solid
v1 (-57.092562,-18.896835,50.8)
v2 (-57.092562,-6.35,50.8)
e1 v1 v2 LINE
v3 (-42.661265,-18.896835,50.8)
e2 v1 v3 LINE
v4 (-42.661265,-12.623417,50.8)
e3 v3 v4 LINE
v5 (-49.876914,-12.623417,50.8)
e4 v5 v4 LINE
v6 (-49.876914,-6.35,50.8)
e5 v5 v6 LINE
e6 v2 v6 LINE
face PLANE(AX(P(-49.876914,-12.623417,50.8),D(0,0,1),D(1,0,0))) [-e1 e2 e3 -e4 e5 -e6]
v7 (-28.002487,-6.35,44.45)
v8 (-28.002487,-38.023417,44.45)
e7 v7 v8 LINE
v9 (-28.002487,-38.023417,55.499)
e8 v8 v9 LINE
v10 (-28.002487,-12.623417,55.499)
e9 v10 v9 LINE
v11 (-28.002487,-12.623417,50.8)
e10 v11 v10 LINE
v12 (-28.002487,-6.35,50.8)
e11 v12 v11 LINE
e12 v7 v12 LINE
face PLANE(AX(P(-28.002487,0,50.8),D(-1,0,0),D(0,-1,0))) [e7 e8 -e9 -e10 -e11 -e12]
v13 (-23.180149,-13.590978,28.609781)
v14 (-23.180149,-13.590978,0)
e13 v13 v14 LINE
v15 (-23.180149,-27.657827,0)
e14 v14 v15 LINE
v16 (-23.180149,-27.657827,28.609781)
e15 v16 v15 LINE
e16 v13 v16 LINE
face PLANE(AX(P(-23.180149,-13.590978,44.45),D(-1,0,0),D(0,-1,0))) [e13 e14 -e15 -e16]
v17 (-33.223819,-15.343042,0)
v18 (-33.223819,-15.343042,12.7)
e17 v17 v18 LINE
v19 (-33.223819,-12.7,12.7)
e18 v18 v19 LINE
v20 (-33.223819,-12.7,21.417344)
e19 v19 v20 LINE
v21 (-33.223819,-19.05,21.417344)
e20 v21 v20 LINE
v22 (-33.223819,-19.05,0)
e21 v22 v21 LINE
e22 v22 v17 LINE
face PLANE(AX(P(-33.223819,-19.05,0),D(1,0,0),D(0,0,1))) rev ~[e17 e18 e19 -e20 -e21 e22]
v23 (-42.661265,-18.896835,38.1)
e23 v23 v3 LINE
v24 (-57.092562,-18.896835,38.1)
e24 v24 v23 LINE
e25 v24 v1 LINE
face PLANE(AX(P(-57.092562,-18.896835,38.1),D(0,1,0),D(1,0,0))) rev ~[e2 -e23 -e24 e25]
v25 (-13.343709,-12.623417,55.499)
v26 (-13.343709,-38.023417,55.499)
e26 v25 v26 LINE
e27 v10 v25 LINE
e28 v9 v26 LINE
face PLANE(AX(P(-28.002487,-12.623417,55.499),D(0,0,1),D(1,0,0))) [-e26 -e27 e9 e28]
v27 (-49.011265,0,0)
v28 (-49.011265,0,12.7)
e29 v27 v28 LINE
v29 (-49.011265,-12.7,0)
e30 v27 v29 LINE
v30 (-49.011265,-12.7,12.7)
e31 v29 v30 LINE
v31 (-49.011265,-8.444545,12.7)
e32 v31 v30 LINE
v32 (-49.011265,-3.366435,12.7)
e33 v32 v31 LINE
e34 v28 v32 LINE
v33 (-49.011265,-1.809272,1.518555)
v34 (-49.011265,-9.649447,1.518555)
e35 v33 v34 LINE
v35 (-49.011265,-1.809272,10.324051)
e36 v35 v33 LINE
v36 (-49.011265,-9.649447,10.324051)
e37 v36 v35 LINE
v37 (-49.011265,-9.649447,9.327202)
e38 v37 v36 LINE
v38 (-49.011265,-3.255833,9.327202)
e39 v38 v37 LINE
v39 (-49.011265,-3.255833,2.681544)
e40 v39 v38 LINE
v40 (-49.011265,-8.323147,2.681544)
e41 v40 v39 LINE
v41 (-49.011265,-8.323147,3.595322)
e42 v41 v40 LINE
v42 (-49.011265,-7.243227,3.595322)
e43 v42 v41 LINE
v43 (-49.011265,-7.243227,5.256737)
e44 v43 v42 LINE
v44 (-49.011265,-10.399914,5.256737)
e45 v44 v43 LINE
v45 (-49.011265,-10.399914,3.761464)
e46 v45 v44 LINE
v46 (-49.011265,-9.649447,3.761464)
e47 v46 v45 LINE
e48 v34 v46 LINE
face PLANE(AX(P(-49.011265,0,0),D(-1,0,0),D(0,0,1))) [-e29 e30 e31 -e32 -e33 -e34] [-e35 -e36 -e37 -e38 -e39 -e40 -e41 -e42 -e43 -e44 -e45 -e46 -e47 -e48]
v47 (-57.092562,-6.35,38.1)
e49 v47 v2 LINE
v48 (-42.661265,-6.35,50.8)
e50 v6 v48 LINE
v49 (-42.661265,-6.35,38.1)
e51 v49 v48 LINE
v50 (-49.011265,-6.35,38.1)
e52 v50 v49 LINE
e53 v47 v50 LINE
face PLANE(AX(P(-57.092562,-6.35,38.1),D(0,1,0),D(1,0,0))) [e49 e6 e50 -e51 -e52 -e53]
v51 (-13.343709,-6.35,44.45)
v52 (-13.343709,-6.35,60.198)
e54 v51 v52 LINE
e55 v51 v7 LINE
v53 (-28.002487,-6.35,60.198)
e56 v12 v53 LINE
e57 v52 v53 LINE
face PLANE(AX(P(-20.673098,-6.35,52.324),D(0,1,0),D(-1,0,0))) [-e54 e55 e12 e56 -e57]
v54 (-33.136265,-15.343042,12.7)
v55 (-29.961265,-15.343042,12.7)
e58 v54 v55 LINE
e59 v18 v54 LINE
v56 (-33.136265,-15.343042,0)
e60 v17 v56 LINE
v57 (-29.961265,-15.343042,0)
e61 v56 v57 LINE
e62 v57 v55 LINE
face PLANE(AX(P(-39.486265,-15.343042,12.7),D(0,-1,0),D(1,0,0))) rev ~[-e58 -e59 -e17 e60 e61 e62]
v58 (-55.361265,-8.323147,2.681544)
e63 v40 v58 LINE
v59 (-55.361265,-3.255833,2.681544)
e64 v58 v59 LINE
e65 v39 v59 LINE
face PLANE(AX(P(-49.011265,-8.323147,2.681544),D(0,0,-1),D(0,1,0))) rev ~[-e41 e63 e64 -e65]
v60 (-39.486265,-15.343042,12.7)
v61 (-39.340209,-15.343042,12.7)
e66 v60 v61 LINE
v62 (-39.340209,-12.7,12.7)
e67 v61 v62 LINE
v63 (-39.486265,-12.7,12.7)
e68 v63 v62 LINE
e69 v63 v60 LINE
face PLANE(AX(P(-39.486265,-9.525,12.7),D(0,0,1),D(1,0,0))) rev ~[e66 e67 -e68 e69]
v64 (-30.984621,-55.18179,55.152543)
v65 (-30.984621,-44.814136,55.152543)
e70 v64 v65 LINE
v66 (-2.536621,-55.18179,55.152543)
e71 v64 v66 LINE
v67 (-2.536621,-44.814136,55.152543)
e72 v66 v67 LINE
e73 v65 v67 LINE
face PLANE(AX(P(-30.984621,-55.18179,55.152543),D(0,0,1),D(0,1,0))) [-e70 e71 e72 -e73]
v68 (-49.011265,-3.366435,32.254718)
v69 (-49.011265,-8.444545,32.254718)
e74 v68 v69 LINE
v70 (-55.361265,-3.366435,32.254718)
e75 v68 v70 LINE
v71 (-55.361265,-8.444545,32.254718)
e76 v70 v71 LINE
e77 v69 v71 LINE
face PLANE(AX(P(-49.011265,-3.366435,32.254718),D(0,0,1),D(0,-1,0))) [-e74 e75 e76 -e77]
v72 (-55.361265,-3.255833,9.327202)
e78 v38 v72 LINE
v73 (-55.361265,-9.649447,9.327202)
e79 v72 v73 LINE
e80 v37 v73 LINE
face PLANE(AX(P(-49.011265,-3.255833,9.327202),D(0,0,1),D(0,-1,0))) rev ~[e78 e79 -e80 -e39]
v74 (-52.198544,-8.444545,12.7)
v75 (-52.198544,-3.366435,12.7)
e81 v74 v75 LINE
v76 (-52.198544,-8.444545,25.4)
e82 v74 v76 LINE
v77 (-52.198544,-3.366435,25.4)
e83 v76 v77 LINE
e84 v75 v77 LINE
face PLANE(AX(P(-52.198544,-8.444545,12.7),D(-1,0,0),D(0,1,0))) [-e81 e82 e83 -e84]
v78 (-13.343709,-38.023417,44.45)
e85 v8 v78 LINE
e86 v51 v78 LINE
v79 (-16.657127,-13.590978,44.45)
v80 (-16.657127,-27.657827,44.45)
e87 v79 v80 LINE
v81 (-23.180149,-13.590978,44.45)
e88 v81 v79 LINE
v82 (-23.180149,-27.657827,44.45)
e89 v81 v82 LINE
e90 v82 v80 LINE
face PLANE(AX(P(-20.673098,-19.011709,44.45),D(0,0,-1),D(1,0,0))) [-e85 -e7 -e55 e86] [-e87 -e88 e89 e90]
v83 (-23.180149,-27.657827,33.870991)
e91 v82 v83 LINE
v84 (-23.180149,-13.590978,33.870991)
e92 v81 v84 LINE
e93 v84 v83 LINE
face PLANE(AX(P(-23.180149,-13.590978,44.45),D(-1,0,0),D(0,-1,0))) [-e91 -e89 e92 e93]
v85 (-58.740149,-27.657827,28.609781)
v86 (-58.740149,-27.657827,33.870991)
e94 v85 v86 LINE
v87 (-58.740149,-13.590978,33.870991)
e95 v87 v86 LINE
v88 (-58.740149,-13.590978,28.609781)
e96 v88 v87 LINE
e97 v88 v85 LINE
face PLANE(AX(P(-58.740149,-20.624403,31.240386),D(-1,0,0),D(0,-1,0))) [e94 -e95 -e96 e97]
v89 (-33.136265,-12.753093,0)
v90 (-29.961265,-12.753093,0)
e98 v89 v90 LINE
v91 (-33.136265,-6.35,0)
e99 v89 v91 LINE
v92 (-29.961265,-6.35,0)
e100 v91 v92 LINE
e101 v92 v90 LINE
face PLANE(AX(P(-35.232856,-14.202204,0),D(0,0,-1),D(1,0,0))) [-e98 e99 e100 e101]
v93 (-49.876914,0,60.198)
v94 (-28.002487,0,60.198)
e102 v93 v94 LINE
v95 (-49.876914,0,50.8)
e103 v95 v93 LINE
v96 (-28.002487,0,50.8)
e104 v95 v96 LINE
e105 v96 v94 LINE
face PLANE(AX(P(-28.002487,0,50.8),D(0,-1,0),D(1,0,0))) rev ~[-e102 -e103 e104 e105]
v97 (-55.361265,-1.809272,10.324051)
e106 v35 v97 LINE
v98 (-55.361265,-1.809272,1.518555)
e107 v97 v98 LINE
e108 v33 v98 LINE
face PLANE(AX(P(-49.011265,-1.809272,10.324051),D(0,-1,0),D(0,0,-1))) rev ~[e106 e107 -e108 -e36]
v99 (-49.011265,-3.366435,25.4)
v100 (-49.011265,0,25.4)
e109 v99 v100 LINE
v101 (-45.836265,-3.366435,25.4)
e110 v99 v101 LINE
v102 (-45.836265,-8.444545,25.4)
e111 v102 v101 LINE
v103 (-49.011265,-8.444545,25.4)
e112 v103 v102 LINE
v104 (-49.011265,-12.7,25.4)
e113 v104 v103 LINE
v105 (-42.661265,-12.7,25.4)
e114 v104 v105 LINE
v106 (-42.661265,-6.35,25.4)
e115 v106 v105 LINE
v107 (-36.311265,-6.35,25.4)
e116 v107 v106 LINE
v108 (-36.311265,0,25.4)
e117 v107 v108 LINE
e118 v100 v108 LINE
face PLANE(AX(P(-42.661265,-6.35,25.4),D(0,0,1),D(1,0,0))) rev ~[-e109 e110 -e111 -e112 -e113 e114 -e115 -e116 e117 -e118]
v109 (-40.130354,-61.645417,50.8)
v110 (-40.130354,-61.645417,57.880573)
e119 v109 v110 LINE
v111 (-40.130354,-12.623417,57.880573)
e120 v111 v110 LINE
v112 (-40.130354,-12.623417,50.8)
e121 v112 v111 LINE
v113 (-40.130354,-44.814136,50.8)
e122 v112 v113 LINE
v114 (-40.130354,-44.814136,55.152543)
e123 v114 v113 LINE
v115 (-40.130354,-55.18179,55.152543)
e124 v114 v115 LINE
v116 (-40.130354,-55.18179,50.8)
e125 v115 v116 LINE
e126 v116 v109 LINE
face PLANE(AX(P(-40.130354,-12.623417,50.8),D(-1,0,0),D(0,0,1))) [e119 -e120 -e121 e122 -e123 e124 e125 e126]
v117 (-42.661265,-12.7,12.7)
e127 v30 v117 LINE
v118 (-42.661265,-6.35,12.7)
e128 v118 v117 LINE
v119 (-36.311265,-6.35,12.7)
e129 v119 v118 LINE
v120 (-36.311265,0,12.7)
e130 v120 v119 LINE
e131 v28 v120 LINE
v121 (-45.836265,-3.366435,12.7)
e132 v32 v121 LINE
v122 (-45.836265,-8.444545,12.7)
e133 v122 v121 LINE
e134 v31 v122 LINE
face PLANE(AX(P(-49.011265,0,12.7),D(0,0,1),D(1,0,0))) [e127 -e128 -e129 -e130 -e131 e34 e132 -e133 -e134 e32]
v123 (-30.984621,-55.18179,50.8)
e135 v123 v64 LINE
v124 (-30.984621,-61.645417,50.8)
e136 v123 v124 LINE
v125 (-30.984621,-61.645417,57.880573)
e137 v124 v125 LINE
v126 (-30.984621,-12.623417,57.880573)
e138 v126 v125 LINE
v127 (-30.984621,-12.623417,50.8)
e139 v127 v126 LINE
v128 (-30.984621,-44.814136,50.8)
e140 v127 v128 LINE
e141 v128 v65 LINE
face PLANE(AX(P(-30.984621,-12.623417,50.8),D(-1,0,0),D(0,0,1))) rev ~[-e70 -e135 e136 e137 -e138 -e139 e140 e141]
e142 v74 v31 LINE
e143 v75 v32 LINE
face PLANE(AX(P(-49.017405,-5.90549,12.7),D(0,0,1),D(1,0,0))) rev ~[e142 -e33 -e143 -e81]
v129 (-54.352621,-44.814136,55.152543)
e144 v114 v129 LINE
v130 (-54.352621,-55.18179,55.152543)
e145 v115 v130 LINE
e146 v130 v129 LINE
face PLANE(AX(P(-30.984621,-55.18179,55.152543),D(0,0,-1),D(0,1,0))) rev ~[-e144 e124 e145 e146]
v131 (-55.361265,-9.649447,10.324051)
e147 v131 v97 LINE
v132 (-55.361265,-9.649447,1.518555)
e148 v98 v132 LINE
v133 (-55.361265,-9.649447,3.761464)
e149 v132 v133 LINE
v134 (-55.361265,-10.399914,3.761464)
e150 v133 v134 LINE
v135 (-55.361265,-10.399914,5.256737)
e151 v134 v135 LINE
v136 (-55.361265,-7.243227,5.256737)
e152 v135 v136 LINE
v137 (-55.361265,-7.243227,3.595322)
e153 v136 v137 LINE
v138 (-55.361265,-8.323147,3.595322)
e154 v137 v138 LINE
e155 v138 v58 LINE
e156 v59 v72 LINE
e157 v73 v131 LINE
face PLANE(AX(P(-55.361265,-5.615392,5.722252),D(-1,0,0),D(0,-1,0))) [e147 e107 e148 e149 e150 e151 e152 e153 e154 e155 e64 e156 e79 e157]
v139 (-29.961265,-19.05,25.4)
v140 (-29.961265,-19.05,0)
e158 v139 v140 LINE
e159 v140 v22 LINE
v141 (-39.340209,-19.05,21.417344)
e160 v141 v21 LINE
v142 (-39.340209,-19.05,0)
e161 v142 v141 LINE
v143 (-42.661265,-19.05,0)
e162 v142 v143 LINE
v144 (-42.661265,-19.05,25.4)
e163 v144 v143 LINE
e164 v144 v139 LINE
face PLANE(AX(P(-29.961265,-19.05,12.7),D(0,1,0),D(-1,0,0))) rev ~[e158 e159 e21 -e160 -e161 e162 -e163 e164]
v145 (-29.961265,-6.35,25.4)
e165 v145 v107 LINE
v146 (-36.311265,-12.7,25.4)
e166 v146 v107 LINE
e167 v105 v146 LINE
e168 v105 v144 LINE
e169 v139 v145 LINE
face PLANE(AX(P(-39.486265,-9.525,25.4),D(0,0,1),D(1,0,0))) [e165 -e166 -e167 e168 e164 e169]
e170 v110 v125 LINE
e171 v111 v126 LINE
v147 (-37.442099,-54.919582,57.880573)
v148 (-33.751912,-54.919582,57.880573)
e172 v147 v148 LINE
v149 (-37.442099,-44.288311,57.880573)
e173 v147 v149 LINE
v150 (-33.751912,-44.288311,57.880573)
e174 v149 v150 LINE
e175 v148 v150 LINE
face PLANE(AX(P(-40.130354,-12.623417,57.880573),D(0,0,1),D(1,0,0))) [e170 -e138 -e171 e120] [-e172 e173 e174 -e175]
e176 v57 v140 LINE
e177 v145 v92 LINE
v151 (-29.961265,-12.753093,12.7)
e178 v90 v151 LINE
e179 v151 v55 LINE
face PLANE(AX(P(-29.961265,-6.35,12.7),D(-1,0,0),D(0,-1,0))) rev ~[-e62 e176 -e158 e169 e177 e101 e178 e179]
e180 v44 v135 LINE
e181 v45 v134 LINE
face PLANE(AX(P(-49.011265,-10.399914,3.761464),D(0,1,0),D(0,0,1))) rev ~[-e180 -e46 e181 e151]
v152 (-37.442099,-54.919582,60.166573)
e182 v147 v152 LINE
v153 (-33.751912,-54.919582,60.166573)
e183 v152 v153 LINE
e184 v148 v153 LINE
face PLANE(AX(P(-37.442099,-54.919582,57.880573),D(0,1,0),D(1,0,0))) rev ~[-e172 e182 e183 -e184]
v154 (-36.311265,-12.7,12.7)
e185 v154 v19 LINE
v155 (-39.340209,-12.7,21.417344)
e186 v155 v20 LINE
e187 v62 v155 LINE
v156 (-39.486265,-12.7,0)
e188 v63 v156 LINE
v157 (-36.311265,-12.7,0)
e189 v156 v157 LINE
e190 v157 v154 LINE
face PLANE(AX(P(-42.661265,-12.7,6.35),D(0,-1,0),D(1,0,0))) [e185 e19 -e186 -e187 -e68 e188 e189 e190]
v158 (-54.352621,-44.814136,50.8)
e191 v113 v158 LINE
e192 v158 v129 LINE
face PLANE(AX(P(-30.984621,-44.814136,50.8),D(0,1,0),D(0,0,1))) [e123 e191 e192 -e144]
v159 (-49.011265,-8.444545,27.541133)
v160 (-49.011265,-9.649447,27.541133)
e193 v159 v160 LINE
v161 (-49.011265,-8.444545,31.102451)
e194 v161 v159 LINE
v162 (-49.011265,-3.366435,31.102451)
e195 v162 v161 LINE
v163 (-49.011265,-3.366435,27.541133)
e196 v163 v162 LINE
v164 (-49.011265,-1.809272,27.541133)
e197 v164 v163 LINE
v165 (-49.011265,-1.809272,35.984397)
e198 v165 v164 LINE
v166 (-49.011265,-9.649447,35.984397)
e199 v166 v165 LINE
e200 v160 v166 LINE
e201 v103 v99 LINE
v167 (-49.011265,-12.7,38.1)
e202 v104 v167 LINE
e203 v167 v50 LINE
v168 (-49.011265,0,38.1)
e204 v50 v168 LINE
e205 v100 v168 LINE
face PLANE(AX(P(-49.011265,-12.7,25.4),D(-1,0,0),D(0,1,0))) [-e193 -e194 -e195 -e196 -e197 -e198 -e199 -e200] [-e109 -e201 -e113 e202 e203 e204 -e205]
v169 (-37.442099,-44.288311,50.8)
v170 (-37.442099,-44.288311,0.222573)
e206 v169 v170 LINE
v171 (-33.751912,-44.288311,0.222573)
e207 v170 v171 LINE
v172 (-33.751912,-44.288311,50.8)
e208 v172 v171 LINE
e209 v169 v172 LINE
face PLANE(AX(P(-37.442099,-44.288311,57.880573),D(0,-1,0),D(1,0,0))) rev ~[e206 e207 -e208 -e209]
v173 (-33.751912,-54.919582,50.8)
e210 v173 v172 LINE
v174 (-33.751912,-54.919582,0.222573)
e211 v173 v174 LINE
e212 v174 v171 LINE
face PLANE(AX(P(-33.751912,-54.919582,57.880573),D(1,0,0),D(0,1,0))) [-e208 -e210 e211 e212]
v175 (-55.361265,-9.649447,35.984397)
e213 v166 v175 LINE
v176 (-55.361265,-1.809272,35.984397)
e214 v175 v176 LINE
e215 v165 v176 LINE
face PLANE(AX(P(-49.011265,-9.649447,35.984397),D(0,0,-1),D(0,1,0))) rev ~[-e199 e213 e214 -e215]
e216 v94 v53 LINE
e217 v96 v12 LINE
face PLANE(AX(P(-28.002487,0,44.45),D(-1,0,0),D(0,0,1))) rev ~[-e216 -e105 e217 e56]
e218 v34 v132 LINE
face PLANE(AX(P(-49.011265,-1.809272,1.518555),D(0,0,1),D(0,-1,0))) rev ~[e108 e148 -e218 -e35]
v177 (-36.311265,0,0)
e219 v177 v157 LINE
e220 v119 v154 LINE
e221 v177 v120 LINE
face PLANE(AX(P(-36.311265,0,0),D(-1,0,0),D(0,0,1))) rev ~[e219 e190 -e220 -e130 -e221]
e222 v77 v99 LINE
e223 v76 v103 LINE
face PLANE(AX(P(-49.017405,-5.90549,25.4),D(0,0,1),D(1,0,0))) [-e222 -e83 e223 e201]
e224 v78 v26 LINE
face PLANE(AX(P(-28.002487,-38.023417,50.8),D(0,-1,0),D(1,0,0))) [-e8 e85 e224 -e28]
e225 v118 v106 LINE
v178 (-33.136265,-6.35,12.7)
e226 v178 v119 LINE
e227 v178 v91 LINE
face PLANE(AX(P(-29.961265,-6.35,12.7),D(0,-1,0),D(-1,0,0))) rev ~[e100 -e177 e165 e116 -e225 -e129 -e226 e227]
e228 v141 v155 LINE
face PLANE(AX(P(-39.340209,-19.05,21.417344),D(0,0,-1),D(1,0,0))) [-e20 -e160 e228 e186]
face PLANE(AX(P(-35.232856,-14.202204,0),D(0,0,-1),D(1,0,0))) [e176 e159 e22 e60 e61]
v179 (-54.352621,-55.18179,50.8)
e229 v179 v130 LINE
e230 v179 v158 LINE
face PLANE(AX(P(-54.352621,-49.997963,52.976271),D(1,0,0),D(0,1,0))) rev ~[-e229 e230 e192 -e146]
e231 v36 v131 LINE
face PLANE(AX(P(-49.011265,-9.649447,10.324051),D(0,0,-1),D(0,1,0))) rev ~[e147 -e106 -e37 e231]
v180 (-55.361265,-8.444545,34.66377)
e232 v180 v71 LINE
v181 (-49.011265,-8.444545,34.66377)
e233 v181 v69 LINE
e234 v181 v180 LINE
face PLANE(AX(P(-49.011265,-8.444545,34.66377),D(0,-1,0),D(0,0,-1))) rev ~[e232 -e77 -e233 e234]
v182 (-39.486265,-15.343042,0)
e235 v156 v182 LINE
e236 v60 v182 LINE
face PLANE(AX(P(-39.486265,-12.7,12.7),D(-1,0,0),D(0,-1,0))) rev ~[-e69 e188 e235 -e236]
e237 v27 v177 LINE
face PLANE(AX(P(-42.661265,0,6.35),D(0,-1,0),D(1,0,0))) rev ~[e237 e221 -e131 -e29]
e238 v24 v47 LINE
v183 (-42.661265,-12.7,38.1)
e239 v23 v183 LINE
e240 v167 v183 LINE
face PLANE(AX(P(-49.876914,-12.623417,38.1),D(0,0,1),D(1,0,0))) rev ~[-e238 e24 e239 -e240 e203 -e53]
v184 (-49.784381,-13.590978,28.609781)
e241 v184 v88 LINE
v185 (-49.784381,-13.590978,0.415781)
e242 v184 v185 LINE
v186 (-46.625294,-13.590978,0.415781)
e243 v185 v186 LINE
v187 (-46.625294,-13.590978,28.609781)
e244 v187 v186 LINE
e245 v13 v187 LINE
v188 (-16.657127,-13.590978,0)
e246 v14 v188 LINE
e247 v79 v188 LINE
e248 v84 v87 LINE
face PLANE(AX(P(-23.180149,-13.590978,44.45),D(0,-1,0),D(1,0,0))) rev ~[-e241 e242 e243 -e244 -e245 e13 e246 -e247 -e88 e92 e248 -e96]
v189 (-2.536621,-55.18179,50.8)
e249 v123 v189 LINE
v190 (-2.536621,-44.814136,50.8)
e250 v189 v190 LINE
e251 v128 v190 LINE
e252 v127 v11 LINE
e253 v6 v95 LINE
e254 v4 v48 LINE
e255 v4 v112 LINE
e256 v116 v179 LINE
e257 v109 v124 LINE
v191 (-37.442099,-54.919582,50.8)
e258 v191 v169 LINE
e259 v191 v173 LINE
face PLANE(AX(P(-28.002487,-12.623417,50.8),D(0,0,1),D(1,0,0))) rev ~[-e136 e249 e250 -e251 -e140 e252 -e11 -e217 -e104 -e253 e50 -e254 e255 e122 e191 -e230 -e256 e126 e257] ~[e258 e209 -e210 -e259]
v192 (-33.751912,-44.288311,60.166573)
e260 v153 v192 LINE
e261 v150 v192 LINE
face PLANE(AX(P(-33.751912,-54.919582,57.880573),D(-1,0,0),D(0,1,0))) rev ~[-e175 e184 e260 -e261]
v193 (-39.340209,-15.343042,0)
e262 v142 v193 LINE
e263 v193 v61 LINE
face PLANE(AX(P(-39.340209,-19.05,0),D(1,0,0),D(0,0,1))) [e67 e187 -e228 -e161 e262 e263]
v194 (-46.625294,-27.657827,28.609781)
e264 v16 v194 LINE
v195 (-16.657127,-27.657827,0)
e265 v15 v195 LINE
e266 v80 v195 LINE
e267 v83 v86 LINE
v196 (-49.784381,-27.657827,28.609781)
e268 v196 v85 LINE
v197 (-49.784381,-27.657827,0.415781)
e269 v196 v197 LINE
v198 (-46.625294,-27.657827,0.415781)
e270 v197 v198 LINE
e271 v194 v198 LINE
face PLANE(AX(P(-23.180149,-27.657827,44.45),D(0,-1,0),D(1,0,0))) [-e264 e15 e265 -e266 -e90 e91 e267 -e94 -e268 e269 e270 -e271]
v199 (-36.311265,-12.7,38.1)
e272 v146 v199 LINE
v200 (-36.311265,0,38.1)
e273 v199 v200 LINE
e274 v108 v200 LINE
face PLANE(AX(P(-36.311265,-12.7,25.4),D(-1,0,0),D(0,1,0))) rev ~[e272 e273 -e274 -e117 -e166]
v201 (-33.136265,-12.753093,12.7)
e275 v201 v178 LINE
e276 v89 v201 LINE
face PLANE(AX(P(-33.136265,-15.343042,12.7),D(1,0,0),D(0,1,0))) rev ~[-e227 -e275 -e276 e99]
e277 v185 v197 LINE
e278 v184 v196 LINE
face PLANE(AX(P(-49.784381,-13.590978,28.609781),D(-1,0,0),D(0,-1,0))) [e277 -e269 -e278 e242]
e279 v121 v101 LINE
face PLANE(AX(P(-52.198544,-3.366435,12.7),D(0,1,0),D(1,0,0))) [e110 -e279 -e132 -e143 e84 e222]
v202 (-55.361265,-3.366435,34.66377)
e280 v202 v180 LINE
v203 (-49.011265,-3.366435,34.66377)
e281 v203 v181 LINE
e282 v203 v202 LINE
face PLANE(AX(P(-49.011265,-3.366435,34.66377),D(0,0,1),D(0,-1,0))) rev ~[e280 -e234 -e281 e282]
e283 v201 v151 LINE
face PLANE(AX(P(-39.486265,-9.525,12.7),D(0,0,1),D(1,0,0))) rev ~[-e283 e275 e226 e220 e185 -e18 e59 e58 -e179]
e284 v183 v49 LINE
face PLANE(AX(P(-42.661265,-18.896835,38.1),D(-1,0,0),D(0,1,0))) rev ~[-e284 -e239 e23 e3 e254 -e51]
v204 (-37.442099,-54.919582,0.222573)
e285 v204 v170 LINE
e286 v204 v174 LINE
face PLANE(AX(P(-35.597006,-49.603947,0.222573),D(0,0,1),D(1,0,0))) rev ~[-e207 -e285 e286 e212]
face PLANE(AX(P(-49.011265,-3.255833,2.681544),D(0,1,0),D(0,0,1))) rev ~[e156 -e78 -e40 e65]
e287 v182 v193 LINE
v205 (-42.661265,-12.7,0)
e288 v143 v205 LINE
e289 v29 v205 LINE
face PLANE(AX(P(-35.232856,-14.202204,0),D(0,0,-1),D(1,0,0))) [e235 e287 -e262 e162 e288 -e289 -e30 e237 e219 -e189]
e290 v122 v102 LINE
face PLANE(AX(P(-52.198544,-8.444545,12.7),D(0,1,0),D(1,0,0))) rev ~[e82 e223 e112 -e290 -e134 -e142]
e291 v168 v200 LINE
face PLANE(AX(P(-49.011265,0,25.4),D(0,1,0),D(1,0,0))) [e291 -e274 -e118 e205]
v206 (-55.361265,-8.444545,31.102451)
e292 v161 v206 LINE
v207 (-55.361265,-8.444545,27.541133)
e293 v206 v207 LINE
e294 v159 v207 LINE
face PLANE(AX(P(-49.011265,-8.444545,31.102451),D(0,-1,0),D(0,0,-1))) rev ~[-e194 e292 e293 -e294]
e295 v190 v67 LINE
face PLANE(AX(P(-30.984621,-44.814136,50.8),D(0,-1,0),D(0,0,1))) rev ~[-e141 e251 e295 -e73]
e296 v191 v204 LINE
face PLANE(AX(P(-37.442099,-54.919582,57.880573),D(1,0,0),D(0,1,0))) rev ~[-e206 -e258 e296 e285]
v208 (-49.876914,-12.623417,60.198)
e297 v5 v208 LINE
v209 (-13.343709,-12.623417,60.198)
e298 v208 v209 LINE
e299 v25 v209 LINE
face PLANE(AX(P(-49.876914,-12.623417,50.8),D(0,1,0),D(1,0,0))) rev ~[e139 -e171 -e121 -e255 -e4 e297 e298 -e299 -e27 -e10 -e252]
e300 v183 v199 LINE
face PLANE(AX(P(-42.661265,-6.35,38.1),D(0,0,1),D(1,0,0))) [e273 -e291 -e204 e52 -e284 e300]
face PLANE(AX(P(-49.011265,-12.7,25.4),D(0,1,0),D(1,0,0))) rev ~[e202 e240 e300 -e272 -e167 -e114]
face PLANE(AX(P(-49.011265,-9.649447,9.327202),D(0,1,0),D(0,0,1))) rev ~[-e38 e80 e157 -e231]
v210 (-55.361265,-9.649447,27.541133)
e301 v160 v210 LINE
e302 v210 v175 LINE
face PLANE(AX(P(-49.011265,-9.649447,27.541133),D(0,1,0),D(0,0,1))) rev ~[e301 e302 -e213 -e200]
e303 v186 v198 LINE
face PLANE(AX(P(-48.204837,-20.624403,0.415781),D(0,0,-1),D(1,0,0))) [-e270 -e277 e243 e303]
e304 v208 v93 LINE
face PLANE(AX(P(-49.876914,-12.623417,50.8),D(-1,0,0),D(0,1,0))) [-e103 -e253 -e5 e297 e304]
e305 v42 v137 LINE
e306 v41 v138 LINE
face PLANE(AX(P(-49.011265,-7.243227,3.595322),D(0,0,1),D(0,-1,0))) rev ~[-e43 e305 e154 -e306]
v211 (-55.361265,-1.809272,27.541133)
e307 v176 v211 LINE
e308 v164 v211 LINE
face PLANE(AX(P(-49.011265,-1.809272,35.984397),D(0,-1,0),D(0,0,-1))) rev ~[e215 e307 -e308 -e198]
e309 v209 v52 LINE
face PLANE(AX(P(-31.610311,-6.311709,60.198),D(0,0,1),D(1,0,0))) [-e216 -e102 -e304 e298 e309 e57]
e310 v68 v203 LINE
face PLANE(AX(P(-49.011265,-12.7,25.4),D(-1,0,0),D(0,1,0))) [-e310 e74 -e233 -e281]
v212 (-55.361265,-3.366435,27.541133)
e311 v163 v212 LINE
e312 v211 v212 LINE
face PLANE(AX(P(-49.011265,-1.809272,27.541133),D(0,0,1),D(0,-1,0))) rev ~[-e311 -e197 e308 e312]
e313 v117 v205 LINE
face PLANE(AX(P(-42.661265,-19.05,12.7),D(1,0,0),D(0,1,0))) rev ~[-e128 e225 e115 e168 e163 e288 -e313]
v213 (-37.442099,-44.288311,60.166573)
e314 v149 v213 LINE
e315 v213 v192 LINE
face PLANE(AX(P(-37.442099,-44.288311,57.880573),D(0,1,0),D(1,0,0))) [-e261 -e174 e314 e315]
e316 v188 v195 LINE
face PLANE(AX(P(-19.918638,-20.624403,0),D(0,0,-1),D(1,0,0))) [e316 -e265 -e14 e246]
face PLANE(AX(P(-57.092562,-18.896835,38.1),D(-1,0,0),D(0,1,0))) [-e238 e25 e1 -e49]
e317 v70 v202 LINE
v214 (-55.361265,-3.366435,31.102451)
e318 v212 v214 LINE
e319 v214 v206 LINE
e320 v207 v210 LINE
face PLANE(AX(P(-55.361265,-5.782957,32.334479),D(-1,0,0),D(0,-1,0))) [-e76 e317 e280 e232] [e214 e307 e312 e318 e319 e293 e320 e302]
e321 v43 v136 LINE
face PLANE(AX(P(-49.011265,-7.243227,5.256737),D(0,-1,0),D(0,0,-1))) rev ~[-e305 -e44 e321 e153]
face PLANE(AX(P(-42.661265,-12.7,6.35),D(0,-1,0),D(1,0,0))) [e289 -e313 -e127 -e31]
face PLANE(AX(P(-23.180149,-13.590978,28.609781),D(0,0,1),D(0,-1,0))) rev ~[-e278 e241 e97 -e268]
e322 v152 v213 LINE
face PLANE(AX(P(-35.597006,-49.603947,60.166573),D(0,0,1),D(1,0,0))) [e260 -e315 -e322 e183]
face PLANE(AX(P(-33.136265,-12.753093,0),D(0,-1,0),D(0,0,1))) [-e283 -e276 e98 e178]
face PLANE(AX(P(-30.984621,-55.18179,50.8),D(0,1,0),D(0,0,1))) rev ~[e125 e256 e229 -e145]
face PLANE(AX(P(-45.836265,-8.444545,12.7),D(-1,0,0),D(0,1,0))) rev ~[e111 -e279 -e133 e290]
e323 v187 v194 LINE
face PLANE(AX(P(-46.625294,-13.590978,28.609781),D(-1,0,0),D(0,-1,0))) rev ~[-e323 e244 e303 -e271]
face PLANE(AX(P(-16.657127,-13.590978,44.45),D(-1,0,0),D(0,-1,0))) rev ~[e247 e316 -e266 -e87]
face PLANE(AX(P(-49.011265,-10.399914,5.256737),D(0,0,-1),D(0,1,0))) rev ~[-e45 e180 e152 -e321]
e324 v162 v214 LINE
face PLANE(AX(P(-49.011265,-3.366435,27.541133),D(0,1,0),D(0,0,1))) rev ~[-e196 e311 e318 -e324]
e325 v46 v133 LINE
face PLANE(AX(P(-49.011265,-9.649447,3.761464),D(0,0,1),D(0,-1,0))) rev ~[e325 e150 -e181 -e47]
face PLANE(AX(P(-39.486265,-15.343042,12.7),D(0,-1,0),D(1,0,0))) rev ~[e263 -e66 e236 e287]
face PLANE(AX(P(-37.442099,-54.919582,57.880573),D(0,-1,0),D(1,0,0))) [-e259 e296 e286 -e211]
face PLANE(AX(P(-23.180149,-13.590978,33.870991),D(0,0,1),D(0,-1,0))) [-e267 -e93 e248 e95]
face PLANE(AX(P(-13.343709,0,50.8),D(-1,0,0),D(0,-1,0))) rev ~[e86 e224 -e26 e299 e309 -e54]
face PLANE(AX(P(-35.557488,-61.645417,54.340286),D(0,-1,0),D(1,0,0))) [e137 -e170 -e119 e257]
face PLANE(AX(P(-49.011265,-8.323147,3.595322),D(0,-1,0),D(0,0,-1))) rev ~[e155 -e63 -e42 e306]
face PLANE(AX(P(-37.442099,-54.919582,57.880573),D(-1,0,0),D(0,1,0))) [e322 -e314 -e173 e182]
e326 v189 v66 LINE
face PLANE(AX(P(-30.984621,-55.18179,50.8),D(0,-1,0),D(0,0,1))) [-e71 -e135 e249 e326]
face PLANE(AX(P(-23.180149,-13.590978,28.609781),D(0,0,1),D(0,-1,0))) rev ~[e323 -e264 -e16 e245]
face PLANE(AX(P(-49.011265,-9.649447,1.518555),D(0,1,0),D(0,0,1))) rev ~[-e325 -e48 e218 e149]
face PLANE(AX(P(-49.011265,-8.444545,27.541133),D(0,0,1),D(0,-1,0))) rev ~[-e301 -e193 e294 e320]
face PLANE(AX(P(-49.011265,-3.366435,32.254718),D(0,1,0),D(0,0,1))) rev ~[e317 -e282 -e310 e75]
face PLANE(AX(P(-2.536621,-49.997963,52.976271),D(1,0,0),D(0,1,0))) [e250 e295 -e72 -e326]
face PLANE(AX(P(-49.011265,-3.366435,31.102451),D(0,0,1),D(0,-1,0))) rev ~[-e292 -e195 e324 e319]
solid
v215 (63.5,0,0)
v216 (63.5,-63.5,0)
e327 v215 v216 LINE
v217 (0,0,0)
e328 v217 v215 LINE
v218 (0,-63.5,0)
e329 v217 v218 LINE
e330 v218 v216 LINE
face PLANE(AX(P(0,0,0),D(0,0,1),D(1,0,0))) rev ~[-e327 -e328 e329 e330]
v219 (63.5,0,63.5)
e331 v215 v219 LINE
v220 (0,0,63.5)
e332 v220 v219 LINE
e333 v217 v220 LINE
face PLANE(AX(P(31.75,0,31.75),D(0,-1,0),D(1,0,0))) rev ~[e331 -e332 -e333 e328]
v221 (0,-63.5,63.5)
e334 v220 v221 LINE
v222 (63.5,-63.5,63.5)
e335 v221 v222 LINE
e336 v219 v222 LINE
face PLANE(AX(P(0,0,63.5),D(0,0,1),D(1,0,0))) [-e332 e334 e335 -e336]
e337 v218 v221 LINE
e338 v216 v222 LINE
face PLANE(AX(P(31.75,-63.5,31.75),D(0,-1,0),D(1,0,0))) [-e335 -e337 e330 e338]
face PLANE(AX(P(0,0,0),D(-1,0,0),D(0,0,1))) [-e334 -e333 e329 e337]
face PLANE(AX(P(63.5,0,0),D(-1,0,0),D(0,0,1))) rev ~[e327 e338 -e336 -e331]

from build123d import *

# Parameters (mm, degrees)
F0_W      = 63.5
F0_H      = 63.5
F1_DEPTH  = 63.5
F2_W      = 12.7
F2_H      = 12.7
F3_DEPTH  = 12.7
F4_W      = 6.35
F4_H      = 6.35
F5_DEPTH  = 12.7
F6_W      = 12.7
F6_H      = 12.7
F7_DEPTH  = 12.7
F8_W      = 6.3622790834
F8_H      = 5.0781101454
F9_DEPTH  = 12.7
F11_DEPTH = 12.7
F12_W     = 6.1163902283
F12_H     = 21.417343989
F13_DEPTH = 6.35
F14_W     = 2.5899494067
F14_H     = 12.7
F15_DEPTH = 6.35
F16_W     = 14.4312972566
F16_H     = 12.5468349248
F17_DEPTH = 12.7
F18_W     = 36.5332050999
F18_H     = 12.6234174624
F19_DEPTH = 9.398
F20_W     = 14.6587782358
F20_H     = 4.699
F21_DEPTH = 25.4
F22_W     = 14.6587782358
F22_H     = 38.0234174624
F23_DEPTH = 6.35
F24_W     = 14.6587782358
F24_H     = 15.748
F25_DEPTH = 6.35
F26_W     = 6.5230224282
F26_H     = 14.0668489039
F27_DEPTH = 44.45
F28_W     = 14.0668489039
F28_H     = 5.2612107247
F29_DEPTH = 35.56
F30_W     = 3.1590871513
F30_H     = 14.0668489039
F31_DEPTH = 28.194
F32_W     = 9.145732969
F32_H     = 7.0805729747
F33_DEPTH = 49.022
F34_W     = 10.367654264
F34_H     = 4.3525428891
F35_DEPTH = 28.448
F36_DEPTH = 23.368
F37_W     = 3.690186888
F37_H     = 10.6312707067
F38_DEPTH = 2.286
F39_DEPTH = 57.658
F40_W     = 5.0781101454
F40_H     = 1.1522667482
F41_DEPTH = 6.35


with BuildPart() as f1:
    # F0 (on Front) → F1 (new body)
    with BuildSketch(Plane.XZ):
        with Locations((31.75, 31.75)):
            Rectangle(F0_W, F0_H)
    extrude(amount=F1_DEPTH)


with BuildPart() as f3:
    # F2 (on Front) → F3 (new body)
    with BuildSketch(Plane.XZ):
        with Locations((-42.6612650613, 6.35)):
            Rectangle(F2_W, F2_H)
    extrude(amount=F3_DEPTH)

    # F4 (on face) → F5 (join)
    with BuildSketch(Plane.XY.offset(12.7)):
        with Locations((-39.4862650613, -9.525)):
            Rectangle(F4_W, F4_H)
        Polygon((-29.9612650613, -6.35), (-36.3112650613, -6.35), (-36.3112650613, -12.7), (-42.6612650613, -12.7), (-42.6612650613, -19.05), (-29.9612650613, -19.05), align=None)
    extrude(amount=F5_DEPTH)

    # F6 (on face) → F7 (join)
    with BuildSketch(Plane.XY.offset(25.4)):
        with Locations((-42.6612650613, -6.35)):
            Rectangle(F6_W, F6_H)
    extrude(amount=F7_DEPTH)

    # F8 (on face) → F9 (join)
    with BuildSketch(Plane.XY.offset(12.7)):
        with Locations((-49.0174046029, -5.9054897865)):
            Rectangle(F8_W, F8_H)
    extrude(amount=F9_DEPTH)

    # F10 (on face) → F11 (join)
    with BuildSketch(Plane(origin=(0, 0, 12.7), x_dir=(1, 0, 0), z_dir=(0, 0, -1))):
        Polygon((-42.6612650613, 12.7), (-39.4862650613, 12.7), (-39.4862650613, 15.3430420905), (-33.1362650613, 15.3430420905), (-33.1362650613, 6.35), (-29.9612650613, 6.35), (-29.9612650613, 19.05), (-42.6612650613, 19.05), align=None)
    extrude(amount=F11_DEPTH)

    # F12 (on face) → F13 (cut)
    with BuildSketch(Plane.XZ.offset(19.05)):
        with Locations((-36.2820141017, 10.7086719945)):
            Rectangle(F12_W, F12_H)
    extrude(amount=-F13_DEPTH, mode=Mode.SUBTRACT)

    # F14 (on face) → F15 (cut)
    with BuildSketch(Plane(origin=(-33.1362650613, 0, 0), x_dir=(0, -1, 0), z_dir=(-1, 0, 0))):
        with Locations((14.0480673872, 6.35)):
            Rectangle(F14_W, F14_H)
    extrude(amount=-F15_DEPTH, mode=Mode.SUBTRACT)

    # F16 (on face) → F17 (join)
    with BuildSketch(Plane.XY.offset(38.1)):
        with Locations((-49.8769136895, -12.6234174624)):
            Rectangle(F16_W, F16_H)
    extrude(amount=F17_DEPTH)

    # F18 (on face) → F19 (join)
    with BuildSketch(Plane.XY.offset(50.8)):
        with Locations((-31.6103111396, -6.3117087312)):
            Rectangle(F18_W, F18_H)
    extrude(amount=F19_DEPTH)

    # F20 (on face) → F21 (join)
    with BuildSketch(Plane.XZ.offset(12.6234174624)):
        with Locations((-20.6730977076, 53.1495)):
            Rectangle(F20_W, F20_H)
    extrude(amount=F21_DEPTH)

    # F22 (on face) → F23 (join)
    with BuildSketch(Plane(origin=(0, 0, 50.8), x_dir=(1, 0, 0), z_dir=(0, 0, -1))):
        with Locations((-20.6730977076, 19.0117087312)):
            Rectangle(F22_W, F22_H)
    extrude(amount=F23_DEPTH)

    # F24 (on face) → F25 (cut)
    with BuildSketch(Plane(origin=(0, 0, 0), x_dir=(-1, 0, 0), z_dir=(0, 1, 0))):
        with Locations((20.6730977076, 52.324)):
            Rectangle(F24_W, F24_H)
    extrude(amount=-F25_DEPTH, mode=Mode.SUBTRACT)

    # F26 (on face) → F27 (join)
    with BuildSketch(Plane(origin=(0, 0, 44.45), x_dir=(1, 0, 0), z_dir=(0, 0, -1))):
        with Locations((-19.9186382815, 20.6244029105)):
            Rectangle(F26_W, F26_H)
    extrude(amount=F27_DEPTH)

    # F28 (on face) → F29 (join)
    with BuildSketch(Plane(origin=(-23.1801494956, 0, 0), x_dir=(0, -1, 0), z_dir=(-1, 0, 0))):
        with Locations((20.6244029105, 31.2403859571)):
            Rectangle(F28_W, F28_H)
    extrude(amount=F29_DEPTH)

    # F30 (on face) → F31 (join)
    with BuildSketch(Plane(origin=(0, 0, 28.6097805947), x_dir=(1, 0, 0), z_dir=(0, 0, -1))):
        with Locations((-48.2048373669, 20.6244029105)):
            Rectangle(F30_W, F30_H)
    extrude(amount=F31_DEPTH)

    # F32 (on face) → F33 (join)
    with BuildSketch(Plane.XZ.offset(12.6234174624)):
        with Locations((-35.5574879795, 54.3402864873)):
            Rectangle(F32_W, F32_H)
    extrude(amount=F33_DEPTH)

    # F34 (on face) → F35 (join)
    with BuildSketch(Plane.YZ.offset(-30.984621495)):
        with Locations((-49.9979630113, 52.9762714446)):
            Rectangle(F34_W, F34_H)
    extrude(amount=F35_DEPTH)

    # F34 (on face) → F36 (join)
    with BuildSketch(Plane.YZ.offset(-30.984621495)):
        with Locations((-49.9979630113, 52.9762714446)):
            Rectangle(F34_W, F34_H)
    extrude(amount=-F36_DEPTH)

    # F37 (on face) → F38 (join)
    with BuildSketch(Plane.XY.offset(57.8805729747)):
        with Locations((-35.597005859, -49.603946507)):
            Rectangle(F37_W, F37_H)
    extrude(amount=F38_DEPTH)

    # F37 (on face) → F39 (join)
    with BuildSketch(Plane.XY.offset(57.8805729747)):
        with Locations((-35.597005859, -49.603946507)):
            Rectangle(F37_W, F37_H)
    extrude(amount=-F39_DEPTH)

    # F40 (on face) → F41 (join)
    with BuildSketch(Plane(origin=(-49.0112650613, 0, 0), x_dir=(0, -1, 0), z_dir=(-1, 0, 0))):
        Polygon((1.809271751, 35.9843969345), (1.809271751, 27.5411326438), (3.3664347138, 27.5411326438), (3.3664347138, 31.1024514958), (3.3664347138, 32.2547182441), (3.3664347138, 34.6637703478), (8.4445448592, 34.6637703478), (8.4445448592, 32.2547182441), (8.4445448592, 31.1024514958), (8.4445448592, 27.5411326438), (9.6494471654, 27.5411326438), (9.6494471654, 35.9843969345), align=None)
        with Locations((5.9054897865, 31.67858487)):
            Rectangle(F40_W, F40_H)
        Polygon((9.6494471654, 9.327202104), (9.6494471654, 10.3240506724), (1.809271751, 10.3240506724), (1.809271751, 1.5185547527), (9.6494471654, 1.5185547527), (9.6494471654, 3.7614635658), (10.3999143466, 3.7614635658), (10.3999143466, 5.2567371167), (7.2432272136, 5.2567371167), (7.2432272136, 3.5953223705), (8.3231469616, 3.5953223705), (8.3231469616, 2.6815442834), (3.2558327075, 2.6815442834), (3.2558327075, 9.327202104), align=None)
    extrude(amount=F41_DEPTH)


solid = Compound([f1.part, f3.part])
